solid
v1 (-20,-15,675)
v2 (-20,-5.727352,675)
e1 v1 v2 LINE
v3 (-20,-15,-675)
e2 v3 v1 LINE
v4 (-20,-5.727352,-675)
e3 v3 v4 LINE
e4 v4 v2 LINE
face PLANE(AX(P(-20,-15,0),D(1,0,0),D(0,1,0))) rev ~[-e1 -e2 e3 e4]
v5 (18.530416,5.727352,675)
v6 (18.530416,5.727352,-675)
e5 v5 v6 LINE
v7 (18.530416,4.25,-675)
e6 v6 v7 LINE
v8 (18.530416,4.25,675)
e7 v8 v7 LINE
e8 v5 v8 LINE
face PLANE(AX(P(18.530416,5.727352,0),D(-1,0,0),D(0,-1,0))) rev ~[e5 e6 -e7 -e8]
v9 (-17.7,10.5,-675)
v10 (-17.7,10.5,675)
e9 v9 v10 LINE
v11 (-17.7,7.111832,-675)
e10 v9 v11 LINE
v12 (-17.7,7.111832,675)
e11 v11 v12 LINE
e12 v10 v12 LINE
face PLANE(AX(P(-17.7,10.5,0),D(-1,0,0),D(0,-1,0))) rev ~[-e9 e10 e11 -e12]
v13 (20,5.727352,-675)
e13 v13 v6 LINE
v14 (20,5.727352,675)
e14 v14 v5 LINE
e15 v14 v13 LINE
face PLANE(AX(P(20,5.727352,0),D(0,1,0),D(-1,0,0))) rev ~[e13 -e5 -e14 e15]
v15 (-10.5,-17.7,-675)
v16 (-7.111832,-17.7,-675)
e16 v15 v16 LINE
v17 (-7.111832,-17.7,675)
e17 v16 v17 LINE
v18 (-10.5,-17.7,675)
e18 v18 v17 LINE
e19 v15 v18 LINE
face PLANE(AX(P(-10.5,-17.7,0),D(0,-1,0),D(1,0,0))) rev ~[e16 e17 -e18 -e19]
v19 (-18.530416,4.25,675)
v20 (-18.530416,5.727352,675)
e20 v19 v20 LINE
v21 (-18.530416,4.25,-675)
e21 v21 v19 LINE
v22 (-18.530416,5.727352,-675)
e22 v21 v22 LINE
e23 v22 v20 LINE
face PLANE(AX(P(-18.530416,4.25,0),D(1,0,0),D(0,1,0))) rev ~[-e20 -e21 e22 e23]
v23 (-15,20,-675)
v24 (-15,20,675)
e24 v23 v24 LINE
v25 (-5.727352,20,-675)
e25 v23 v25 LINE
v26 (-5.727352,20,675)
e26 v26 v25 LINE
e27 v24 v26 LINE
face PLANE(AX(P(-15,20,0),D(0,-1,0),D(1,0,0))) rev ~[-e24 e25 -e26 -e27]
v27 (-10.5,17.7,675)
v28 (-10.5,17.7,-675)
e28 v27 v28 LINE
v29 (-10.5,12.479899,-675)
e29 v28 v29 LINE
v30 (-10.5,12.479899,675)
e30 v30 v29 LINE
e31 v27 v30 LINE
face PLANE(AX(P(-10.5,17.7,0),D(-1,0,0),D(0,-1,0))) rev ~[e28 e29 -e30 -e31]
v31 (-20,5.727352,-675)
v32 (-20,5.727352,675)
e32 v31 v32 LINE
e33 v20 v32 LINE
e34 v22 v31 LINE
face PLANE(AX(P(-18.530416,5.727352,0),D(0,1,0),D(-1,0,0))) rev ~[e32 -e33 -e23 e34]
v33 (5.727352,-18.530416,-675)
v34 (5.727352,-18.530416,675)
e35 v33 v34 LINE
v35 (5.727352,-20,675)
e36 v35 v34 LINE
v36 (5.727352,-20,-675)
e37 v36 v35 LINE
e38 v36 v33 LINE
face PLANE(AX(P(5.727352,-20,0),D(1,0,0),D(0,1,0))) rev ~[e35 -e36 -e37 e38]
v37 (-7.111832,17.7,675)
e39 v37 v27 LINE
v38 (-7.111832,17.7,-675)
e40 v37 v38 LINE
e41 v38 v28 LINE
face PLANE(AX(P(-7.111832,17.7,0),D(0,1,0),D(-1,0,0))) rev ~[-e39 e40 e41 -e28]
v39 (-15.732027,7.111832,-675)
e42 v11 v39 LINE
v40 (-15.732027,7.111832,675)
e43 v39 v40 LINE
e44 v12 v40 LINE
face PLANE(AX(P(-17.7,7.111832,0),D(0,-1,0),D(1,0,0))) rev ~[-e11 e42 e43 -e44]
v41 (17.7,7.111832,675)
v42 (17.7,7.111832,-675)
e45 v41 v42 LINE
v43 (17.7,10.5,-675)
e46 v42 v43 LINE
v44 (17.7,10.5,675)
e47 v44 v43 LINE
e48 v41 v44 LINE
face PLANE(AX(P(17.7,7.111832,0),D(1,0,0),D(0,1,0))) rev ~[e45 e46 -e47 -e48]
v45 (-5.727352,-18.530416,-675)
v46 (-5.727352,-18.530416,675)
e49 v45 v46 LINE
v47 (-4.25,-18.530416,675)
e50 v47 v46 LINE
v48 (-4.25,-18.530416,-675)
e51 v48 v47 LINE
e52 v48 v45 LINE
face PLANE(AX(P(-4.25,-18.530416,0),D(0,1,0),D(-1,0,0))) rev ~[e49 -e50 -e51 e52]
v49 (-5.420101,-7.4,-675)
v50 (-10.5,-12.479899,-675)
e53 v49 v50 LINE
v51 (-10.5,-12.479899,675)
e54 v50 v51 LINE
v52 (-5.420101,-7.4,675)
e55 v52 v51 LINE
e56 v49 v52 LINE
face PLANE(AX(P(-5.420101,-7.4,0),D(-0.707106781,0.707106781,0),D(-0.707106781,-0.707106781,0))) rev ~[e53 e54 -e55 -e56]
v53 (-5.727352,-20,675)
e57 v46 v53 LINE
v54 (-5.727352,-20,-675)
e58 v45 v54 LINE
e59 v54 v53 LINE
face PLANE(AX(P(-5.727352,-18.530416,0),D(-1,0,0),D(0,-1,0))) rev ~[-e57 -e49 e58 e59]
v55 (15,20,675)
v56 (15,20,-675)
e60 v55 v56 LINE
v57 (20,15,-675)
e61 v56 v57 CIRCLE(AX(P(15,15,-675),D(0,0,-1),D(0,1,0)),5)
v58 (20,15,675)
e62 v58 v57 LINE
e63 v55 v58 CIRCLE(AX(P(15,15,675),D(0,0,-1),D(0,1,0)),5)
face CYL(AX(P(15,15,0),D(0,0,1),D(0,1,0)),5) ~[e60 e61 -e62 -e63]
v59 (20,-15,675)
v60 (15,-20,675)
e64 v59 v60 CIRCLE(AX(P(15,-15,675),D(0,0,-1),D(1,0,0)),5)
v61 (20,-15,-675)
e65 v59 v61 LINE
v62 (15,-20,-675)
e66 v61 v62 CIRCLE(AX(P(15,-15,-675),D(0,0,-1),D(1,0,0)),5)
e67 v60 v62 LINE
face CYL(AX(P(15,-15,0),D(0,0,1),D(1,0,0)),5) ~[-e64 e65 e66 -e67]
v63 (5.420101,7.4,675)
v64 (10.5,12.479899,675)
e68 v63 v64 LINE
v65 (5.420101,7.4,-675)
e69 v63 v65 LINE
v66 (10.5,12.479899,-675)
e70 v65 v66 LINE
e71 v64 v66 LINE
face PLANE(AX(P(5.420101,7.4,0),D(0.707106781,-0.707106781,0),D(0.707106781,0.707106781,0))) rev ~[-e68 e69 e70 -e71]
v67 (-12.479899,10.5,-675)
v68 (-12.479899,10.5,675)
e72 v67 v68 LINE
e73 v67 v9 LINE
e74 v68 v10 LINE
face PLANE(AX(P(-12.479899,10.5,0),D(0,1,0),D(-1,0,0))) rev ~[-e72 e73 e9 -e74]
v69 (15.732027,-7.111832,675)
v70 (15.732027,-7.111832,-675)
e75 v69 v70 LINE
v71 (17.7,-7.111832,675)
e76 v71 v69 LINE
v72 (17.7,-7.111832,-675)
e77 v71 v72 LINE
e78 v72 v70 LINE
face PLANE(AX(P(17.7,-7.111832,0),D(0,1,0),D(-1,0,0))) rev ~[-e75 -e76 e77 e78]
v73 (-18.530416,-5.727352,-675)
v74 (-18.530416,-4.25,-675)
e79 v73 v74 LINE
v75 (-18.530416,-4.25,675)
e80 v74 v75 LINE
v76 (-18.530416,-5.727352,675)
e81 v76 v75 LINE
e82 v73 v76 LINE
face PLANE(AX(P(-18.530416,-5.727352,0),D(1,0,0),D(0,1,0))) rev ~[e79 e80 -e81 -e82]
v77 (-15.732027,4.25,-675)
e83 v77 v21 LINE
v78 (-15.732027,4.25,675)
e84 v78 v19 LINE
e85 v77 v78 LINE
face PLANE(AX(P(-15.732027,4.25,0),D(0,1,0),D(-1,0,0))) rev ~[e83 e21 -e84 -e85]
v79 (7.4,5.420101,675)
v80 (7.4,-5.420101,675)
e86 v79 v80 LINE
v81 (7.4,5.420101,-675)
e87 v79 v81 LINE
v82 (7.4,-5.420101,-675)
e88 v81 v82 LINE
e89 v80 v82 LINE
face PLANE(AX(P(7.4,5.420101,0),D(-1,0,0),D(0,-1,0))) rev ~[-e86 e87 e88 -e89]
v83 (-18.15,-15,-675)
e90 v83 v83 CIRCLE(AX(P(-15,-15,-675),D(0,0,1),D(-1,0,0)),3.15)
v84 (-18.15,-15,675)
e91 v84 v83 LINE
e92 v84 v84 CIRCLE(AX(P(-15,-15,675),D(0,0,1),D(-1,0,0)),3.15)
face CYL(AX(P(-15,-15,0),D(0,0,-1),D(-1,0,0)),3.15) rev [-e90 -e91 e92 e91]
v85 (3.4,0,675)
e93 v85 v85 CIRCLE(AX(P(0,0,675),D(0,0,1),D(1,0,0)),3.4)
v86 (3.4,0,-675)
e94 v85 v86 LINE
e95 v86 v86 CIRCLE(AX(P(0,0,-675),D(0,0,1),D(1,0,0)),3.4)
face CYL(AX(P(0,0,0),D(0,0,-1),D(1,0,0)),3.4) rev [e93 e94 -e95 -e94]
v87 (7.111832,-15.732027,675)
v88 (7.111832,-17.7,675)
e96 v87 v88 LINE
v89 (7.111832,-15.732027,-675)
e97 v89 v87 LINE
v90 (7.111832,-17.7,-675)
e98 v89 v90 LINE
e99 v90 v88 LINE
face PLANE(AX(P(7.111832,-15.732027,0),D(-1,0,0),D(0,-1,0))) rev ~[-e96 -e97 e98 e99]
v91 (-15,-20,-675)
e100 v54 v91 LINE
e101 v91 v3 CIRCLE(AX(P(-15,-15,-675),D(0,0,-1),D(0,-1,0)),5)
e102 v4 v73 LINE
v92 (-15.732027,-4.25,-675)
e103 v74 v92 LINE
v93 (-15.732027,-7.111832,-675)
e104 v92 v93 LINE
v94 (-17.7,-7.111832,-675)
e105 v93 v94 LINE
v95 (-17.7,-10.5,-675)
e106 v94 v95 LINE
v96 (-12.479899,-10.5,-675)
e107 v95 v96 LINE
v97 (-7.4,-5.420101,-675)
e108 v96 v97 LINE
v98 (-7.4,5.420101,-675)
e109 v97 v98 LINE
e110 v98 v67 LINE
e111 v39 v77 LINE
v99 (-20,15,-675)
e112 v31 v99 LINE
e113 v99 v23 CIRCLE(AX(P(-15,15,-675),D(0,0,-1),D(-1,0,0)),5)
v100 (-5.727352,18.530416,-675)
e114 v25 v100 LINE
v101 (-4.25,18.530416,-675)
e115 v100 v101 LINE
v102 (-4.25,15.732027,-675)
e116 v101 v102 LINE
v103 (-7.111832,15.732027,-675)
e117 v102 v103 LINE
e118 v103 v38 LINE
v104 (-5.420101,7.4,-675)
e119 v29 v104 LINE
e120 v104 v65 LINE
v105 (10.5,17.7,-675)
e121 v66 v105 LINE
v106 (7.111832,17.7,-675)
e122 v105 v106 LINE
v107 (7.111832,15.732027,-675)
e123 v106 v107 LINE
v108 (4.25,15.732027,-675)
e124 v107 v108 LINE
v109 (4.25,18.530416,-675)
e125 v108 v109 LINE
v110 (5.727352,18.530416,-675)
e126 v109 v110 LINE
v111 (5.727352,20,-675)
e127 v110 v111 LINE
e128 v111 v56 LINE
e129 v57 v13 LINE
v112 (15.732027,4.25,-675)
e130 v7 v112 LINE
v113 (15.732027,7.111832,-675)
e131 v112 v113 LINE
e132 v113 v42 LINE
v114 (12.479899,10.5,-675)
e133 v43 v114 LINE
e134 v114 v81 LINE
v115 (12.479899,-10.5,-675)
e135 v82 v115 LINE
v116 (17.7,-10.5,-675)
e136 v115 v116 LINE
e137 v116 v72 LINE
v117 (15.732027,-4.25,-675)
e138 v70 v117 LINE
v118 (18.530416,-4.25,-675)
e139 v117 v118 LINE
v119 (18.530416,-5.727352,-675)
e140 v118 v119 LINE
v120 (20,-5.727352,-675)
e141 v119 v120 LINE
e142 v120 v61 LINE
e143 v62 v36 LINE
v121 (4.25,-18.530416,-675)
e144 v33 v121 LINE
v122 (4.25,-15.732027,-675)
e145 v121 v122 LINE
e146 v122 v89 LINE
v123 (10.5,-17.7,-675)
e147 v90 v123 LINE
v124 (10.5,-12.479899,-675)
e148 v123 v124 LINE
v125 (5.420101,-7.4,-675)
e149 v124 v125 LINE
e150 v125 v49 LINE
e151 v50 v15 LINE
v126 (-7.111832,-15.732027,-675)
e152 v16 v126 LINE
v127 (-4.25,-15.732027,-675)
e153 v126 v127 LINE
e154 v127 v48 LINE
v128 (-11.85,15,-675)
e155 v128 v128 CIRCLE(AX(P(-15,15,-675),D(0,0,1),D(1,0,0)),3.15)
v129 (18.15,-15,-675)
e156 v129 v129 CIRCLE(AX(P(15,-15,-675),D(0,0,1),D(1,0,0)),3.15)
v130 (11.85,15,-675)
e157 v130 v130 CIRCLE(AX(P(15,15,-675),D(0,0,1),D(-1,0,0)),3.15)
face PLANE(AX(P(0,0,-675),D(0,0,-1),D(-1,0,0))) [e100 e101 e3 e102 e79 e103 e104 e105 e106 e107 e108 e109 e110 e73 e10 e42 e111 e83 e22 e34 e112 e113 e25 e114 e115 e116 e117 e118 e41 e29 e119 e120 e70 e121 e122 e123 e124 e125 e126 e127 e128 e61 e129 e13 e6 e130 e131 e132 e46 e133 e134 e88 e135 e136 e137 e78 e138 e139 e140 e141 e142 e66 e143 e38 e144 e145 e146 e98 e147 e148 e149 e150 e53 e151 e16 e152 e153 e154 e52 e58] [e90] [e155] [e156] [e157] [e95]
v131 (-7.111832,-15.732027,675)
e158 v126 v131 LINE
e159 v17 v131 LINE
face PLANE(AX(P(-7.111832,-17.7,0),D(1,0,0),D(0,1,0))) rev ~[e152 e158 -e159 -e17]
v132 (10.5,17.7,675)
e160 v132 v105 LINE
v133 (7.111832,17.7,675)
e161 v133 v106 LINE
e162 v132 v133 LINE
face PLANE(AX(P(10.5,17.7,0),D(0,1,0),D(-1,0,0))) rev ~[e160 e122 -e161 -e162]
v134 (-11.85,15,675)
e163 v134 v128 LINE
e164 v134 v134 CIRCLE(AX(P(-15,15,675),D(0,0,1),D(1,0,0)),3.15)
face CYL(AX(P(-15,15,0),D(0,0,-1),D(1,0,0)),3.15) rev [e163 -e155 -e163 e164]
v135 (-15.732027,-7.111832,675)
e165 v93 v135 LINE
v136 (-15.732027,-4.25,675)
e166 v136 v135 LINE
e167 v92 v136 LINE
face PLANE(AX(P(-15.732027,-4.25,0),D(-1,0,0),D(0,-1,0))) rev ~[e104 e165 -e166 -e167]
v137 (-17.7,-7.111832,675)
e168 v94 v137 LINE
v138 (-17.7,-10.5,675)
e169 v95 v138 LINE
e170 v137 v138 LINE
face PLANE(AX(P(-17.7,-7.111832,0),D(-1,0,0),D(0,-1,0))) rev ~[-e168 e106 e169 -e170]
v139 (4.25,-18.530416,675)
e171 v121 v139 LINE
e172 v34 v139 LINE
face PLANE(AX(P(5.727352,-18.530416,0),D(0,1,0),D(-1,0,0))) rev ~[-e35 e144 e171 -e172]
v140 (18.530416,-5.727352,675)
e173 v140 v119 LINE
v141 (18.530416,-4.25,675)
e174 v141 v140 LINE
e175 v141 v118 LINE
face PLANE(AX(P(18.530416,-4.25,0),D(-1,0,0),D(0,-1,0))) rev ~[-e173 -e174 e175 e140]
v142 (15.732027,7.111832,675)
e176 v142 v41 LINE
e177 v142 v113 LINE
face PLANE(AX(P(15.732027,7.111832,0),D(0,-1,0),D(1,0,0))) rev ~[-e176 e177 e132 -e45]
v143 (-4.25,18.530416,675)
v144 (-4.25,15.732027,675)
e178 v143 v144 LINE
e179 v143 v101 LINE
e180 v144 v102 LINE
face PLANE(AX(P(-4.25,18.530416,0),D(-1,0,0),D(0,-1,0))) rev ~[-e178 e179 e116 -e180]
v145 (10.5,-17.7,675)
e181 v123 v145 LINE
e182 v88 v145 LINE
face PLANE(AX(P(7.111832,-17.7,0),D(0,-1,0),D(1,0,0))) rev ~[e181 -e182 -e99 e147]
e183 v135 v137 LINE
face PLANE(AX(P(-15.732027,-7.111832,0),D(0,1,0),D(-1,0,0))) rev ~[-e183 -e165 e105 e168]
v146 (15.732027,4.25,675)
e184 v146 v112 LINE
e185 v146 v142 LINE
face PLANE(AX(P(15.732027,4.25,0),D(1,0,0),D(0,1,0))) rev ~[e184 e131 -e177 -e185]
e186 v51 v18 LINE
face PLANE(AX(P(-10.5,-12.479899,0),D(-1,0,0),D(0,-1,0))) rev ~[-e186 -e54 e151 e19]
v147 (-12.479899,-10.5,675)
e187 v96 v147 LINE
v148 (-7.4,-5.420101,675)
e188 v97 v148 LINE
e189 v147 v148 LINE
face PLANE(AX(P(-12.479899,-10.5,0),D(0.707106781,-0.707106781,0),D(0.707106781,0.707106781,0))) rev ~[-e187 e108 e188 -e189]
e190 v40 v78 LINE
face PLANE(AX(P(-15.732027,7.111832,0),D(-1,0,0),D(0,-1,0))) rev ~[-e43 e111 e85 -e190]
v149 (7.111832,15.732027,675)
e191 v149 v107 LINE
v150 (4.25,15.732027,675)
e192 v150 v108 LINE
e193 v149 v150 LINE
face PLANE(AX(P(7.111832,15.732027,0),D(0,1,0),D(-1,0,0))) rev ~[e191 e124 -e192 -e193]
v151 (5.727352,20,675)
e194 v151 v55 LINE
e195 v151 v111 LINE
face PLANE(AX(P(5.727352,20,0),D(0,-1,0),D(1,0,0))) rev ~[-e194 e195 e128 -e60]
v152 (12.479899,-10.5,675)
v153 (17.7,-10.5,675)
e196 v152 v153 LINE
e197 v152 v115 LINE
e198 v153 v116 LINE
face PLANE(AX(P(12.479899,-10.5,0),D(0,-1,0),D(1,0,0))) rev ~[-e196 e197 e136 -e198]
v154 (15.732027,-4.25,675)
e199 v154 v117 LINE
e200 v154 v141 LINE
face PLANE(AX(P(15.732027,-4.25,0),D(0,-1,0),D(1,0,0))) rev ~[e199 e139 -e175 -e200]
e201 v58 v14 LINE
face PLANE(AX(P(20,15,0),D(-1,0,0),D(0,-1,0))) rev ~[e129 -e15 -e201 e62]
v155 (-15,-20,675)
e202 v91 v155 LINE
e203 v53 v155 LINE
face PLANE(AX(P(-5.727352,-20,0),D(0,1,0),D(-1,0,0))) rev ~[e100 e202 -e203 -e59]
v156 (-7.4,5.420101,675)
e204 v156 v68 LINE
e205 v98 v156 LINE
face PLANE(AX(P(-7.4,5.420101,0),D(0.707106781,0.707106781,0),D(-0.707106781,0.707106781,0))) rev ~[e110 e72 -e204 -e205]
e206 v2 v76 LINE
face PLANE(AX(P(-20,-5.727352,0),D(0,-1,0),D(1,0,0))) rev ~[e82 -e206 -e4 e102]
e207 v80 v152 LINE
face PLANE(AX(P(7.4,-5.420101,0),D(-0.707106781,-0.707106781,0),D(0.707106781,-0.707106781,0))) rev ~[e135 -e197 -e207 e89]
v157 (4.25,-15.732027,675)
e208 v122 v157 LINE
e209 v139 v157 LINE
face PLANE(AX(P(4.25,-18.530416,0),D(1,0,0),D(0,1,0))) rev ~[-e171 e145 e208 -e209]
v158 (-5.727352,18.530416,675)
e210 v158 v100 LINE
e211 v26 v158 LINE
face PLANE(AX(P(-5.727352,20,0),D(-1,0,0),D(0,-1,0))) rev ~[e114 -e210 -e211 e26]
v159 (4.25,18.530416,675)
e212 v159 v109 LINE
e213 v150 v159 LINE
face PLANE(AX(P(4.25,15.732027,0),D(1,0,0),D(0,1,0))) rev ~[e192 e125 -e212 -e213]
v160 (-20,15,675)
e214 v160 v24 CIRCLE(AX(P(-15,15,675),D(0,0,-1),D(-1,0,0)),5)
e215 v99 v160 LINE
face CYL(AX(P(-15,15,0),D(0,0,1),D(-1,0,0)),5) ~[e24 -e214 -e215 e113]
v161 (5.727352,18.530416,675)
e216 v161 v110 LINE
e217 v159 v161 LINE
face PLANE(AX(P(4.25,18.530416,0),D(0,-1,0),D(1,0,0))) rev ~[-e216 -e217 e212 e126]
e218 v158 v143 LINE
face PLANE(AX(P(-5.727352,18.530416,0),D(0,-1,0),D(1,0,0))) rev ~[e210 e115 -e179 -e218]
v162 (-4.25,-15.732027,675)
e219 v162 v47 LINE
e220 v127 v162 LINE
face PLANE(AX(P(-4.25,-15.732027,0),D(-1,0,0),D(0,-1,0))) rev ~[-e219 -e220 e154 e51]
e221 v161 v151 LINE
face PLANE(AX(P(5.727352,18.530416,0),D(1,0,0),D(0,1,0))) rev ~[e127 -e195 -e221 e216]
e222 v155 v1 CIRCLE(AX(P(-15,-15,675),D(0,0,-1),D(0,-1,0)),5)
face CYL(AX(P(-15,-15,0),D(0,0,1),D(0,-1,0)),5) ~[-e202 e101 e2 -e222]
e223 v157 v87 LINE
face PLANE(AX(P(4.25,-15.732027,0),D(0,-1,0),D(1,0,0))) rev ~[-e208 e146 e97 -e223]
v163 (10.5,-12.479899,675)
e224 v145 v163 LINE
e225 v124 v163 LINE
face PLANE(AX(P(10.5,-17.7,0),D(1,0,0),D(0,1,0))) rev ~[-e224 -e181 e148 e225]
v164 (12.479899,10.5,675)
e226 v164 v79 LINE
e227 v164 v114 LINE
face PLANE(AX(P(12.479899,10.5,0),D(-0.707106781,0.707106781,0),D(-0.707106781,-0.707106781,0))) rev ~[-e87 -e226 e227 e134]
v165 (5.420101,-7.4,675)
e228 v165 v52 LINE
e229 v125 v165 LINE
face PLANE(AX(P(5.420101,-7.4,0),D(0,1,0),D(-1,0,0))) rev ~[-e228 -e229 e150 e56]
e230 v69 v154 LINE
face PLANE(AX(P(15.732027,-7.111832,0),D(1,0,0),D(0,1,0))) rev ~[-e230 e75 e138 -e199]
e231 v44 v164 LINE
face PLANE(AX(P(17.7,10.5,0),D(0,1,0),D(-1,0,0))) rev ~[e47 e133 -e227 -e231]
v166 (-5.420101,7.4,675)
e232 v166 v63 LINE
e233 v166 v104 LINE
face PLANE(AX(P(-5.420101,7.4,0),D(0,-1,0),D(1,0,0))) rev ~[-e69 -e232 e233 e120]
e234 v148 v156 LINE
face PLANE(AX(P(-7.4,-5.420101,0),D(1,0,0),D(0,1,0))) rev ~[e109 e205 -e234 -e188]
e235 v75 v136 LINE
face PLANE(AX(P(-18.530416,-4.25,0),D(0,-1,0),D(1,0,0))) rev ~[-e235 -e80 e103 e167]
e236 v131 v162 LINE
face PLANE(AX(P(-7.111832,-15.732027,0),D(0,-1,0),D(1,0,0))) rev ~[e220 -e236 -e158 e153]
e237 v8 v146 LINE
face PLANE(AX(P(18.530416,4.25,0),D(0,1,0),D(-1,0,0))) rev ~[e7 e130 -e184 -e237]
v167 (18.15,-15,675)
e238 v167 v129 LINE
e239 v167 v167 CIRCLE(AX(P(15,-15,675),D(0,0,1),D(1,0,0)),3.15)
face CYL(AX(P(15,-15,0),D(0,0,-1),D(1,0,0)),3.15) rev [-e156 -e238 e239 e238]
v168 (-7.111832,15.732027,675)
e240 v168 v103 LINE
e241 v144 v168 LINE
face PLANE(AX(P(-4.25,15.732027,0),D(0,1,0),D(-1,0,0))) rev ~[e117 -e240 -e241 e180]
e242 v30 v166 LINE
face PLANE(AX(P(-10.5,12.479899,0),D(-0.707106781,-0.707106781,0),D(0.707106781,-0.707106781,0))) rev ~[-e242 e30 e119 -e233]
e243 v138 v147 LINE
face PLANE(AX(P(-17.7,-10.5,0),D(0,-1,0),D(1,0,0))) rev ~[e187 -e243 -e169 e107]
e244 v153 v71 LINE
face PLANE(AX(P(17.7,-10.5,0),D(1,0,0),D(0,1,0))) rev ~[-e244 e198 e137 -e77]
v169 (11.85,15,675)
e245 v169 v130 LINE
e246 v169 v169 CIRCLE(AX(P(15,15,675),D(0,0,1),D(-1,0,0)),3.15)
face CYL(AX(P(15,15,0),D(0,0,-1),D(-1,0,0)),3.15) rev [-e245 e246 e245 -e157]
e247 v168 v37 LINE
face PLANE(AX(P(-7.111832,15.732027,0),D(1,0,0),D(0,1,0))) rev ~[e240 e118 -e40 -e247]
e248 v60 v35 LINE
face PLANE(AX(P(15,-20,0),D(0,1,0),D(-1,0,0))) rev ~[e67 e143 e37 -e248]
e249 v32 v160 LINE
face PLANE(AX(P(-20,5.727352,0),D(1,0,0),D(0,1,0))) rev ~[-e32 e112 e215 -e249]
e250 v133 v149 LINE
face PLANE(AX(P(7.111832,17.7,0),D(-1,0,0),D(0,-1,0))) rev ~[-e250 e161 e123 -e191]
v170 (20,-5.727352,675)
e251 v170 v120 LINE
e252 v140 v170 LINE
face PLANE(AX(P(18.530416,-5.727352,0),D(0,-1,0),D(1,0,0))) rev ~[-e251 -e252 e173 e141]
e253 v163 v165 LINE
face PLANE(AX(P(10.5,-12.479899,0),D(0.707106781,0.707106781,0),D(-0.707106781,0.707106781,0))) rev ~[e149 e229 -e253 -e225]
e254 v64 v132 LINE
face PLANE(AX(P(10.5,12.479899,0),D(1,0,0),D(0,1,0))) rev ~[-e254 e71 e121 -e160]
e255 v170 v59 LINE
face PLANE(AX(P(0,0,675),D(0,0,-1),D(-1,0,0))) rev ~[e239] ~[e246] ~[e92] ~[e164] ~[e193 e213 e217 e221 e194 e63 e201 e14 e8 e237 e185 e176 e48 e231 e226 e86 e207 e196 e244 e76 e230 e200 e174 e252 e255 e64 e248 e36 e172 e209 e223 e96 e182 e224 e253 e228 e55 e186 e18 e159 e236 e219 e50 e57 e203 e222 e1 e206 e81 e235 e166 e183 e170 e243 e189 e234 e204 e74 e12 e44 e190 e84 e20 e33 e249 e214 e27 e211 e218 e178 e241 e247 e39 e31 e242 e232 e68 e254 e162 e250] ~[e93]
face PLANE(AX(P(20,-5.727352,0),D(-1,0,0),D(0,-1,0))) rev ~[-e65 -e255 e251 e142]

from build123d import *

# Parameters (mm, degrees)
SKETCH_1_R      = 3.4
SKETCH_1_R_2    = 3.15
EXTRUDE_1_DEPTH = 675


with BuildPart() as part:
    # Эскиз1 → Бобышка-Вытянуть1 (new, symmetric)
    with BuildSketch(Plane.XY):
        with BuildLine():
            Line((-15, 20), (-5.727351849, 20))
            Line((-5.727351849, 20), (-5.727351849, 18.530416438))
            Line((-5.727351849, 18.530416438), (-4.25, 18.530416438))
            Line((-4.25, 18.530416438), (-4.25, 15.732027397))
            Line((-4.25, 15.732027397), (-7.111831817, 15.732027397))
            Line((-7.111831817, 15.732027397), (-7.111831817, 17.7))
            Line((-7.111831817, 17.7), (-10.5, 17.7))
            Line((-10.5, 17.7), (-10.5, 12.479898987))
            Line((-10.5, 12.479898987), (-5.420101013, 7.4))
            Line((-5.420101013, 7.4), (5.420101013, 7.4))
            Line((5.420101013, 7.4), (10.5, 12.479898987))
            Line((10.5, 12.479898987), (10.5, 17.7))
            Line((10.5, 17.7), (7.111831817, 17.7))
            Line((7.111831817, 17.7), (7.111831817, 15.732027397))
            Line((7.111831817, 15.732027397), (4.25, 15.732027397))
            Line((4.25, 15.732027397), (4.25, 18.530416438))
            Line((4.25, 18.530416438), (5.727351849, 18.530416438))
            Line((5.727351849, 18.530416438), (5.727351849, 20))
            Line((5.727351849, 20), (15, 20))
            ThreePointArc((15, 20), (18.535533906, 18.535533906), (20, 15))
            Line((20, 15), (20, 5.727351849))
            Line((20, 5.727351849), (18.530416438, 5.727351849))
            Line((18.530416438, 5.727351849), (18.530416438, 4.25))
            Line((18.530416438, 4.25), (15.732027397, 4.25))
            Line((15.732027397, 4.25), (15.732027397, 7.111831817))
            Line((15.732027397, 7.111831817), (17.7, 7.111831817))
            Line((17.7, 7.111831817), (17.7, 10.5))
            Line((17.7, 10.5), (12.479898987, 10.5))
            Line((12.479898987, 10.5), (7.4, 5.420101013))
            Line((7.4, 5.420101013), (7.4, -5.420101013))
            Line((7.4, -5.420101013), (12.479898987, -10.5))
            Line((12.479898987, -10.5), (17.7, -10.5))
            Line((17.7, -10.5), (17.7, -7.111831817))
            Line((17.7, -7.111831817), (15.732027397, -7.111831817))
            Line((15.732027397, -7.111831817), (15.732027397, -4.25))
            Line((15.732027397, -4.25), (18.530416438, -4.25))
            Line((18.530416438, -4.25), (18.530416438, -5.727351849))
            Line((18.530416438, -5.727351849), (20, -5.727351849))
            Line((20, -5.727351849), (20, -15))
            ThreePointArc((20, -15), (18.535533906, -18.535533906), (15, -20))
            Line((15, -20), (5.727351849, -20))
            Line((5.727351849, -20), (5.727351849, -18.530416438))
            Line((5.727351849, -18.530416438), (4.25, -18.530416438))
            Line((4.25, -18.530416438), (4.25, -15.732027397))
            Line((4.25, -15.732027397), (7.111831817, -15.732027397))
            Line((7.111831817, -15.732027397), (7.111831817, -17.7))
            Line((7.111831817, -17.7), (10.5, -17.7))
            Line((10.5, -17.7), (10.5, -12.479898987))
            Line((10.5, -12.479898987), (5.420101013, -7.4))
            Line((5.420101013, -7.4), (-5.420101013, -7.4))
            Line((-5.420101013, -7.4), (-10.5, -12.479898987))
            Line((-10.5, -12.479898987), (-10.5, -17.7))
            Line((-10.5, -17.7), (-7.111831817, -17.7))
            Line((-7.111831817, -17.7), (-7.111831817, -15.732027397))
            Line((-7.111831817, -15.732027397), (-4.25, -15.732027397))
            Line((-4.25, -15.732027397), (-4.25, -18.530416438))
            Line((-4.25, -18.530416438), (-5.727351849, -18.530416438))
            Line((-5.727351849, -18.530416438), (-5.727351849, -20))
            Line((-5.727351849, -20), (-15, -20))
            ThreePointArc((-15, -20), (-18.535533906, -18.535533906), (-20, -15))
            Line((-20, -15), (-20, -5.727351849))
            Line((-20, -5.727351849), (-18.530416438, -5.727351849))
            Line((-18.530416438, -5.727351849), (-18.530416438, -4.25))
            Line((-18.530416438, -4.25), (-15.732027397, -4.25))
            Line((-15.732027397, -4.25), (-15.732027397, -7.111831817))
            Line((-15.732027397, -7.111831817), (-17.7, -7.111831817))
            Line((-17.7, -7.111831817), (-17.7, -10.5))
            Line((-17.7, -10.5), (-12.479898987, -10.5))
            Line((-12.479898987, -10.5), (-7.4, -5.420101013))
            Line((-7.4, -5.420101013), (-7.4, 5.420101013))
            Line((-7.4, 5.420101013), (-12.479898987, 10.5))
            Line((-12.479898987, 10.5), (-17.7, 10.5))
            Line((-17.7, 10.5), (-17.7, 7.111831817))
            Line((-17.7, 7.111831817), (-15.732027397, 7.111831817))
            Line((-15.732027397, 7.111831817), (-15.732027397, 4.25))
            Line((-15.732027397, 4.25), (-18.530416438, 4.25))
            Line((-18.530416438, 4.25), (-18.530416438, 5.727351849))
            Line((-18.530416438, 5.727351849), (-20, 5.727351849))
            Line((-20, 5.727351849), (-20, 15))
            ThreePointArc((-20, 15), (-18.535533906, 18.535533906), (-15, 20))
        make_face()
        Circle(SKETCH_1_R, mode=Mode.SUBTRACT)
        with Locations((-15, 15)):
            Circle(SKETCH_1_R_2, mode=Mode.SUBTRACT)
        with Locations((15, 15)):
            Circle(SKETCH_1_R_2, mode=Mode.SUBTRACT)
        with Locations((15, -15)):
            Circle(SKETCH_1_R_2, mode=Mode.SUBTRACT)
        with Locations((-15, -15)):
            Circle(SKETCH_1_R_2, mode=Mode.SUBTRACT)
    extrude(amount=EXTRUDE_1_DEPTH, both=True)


solid = part.part
